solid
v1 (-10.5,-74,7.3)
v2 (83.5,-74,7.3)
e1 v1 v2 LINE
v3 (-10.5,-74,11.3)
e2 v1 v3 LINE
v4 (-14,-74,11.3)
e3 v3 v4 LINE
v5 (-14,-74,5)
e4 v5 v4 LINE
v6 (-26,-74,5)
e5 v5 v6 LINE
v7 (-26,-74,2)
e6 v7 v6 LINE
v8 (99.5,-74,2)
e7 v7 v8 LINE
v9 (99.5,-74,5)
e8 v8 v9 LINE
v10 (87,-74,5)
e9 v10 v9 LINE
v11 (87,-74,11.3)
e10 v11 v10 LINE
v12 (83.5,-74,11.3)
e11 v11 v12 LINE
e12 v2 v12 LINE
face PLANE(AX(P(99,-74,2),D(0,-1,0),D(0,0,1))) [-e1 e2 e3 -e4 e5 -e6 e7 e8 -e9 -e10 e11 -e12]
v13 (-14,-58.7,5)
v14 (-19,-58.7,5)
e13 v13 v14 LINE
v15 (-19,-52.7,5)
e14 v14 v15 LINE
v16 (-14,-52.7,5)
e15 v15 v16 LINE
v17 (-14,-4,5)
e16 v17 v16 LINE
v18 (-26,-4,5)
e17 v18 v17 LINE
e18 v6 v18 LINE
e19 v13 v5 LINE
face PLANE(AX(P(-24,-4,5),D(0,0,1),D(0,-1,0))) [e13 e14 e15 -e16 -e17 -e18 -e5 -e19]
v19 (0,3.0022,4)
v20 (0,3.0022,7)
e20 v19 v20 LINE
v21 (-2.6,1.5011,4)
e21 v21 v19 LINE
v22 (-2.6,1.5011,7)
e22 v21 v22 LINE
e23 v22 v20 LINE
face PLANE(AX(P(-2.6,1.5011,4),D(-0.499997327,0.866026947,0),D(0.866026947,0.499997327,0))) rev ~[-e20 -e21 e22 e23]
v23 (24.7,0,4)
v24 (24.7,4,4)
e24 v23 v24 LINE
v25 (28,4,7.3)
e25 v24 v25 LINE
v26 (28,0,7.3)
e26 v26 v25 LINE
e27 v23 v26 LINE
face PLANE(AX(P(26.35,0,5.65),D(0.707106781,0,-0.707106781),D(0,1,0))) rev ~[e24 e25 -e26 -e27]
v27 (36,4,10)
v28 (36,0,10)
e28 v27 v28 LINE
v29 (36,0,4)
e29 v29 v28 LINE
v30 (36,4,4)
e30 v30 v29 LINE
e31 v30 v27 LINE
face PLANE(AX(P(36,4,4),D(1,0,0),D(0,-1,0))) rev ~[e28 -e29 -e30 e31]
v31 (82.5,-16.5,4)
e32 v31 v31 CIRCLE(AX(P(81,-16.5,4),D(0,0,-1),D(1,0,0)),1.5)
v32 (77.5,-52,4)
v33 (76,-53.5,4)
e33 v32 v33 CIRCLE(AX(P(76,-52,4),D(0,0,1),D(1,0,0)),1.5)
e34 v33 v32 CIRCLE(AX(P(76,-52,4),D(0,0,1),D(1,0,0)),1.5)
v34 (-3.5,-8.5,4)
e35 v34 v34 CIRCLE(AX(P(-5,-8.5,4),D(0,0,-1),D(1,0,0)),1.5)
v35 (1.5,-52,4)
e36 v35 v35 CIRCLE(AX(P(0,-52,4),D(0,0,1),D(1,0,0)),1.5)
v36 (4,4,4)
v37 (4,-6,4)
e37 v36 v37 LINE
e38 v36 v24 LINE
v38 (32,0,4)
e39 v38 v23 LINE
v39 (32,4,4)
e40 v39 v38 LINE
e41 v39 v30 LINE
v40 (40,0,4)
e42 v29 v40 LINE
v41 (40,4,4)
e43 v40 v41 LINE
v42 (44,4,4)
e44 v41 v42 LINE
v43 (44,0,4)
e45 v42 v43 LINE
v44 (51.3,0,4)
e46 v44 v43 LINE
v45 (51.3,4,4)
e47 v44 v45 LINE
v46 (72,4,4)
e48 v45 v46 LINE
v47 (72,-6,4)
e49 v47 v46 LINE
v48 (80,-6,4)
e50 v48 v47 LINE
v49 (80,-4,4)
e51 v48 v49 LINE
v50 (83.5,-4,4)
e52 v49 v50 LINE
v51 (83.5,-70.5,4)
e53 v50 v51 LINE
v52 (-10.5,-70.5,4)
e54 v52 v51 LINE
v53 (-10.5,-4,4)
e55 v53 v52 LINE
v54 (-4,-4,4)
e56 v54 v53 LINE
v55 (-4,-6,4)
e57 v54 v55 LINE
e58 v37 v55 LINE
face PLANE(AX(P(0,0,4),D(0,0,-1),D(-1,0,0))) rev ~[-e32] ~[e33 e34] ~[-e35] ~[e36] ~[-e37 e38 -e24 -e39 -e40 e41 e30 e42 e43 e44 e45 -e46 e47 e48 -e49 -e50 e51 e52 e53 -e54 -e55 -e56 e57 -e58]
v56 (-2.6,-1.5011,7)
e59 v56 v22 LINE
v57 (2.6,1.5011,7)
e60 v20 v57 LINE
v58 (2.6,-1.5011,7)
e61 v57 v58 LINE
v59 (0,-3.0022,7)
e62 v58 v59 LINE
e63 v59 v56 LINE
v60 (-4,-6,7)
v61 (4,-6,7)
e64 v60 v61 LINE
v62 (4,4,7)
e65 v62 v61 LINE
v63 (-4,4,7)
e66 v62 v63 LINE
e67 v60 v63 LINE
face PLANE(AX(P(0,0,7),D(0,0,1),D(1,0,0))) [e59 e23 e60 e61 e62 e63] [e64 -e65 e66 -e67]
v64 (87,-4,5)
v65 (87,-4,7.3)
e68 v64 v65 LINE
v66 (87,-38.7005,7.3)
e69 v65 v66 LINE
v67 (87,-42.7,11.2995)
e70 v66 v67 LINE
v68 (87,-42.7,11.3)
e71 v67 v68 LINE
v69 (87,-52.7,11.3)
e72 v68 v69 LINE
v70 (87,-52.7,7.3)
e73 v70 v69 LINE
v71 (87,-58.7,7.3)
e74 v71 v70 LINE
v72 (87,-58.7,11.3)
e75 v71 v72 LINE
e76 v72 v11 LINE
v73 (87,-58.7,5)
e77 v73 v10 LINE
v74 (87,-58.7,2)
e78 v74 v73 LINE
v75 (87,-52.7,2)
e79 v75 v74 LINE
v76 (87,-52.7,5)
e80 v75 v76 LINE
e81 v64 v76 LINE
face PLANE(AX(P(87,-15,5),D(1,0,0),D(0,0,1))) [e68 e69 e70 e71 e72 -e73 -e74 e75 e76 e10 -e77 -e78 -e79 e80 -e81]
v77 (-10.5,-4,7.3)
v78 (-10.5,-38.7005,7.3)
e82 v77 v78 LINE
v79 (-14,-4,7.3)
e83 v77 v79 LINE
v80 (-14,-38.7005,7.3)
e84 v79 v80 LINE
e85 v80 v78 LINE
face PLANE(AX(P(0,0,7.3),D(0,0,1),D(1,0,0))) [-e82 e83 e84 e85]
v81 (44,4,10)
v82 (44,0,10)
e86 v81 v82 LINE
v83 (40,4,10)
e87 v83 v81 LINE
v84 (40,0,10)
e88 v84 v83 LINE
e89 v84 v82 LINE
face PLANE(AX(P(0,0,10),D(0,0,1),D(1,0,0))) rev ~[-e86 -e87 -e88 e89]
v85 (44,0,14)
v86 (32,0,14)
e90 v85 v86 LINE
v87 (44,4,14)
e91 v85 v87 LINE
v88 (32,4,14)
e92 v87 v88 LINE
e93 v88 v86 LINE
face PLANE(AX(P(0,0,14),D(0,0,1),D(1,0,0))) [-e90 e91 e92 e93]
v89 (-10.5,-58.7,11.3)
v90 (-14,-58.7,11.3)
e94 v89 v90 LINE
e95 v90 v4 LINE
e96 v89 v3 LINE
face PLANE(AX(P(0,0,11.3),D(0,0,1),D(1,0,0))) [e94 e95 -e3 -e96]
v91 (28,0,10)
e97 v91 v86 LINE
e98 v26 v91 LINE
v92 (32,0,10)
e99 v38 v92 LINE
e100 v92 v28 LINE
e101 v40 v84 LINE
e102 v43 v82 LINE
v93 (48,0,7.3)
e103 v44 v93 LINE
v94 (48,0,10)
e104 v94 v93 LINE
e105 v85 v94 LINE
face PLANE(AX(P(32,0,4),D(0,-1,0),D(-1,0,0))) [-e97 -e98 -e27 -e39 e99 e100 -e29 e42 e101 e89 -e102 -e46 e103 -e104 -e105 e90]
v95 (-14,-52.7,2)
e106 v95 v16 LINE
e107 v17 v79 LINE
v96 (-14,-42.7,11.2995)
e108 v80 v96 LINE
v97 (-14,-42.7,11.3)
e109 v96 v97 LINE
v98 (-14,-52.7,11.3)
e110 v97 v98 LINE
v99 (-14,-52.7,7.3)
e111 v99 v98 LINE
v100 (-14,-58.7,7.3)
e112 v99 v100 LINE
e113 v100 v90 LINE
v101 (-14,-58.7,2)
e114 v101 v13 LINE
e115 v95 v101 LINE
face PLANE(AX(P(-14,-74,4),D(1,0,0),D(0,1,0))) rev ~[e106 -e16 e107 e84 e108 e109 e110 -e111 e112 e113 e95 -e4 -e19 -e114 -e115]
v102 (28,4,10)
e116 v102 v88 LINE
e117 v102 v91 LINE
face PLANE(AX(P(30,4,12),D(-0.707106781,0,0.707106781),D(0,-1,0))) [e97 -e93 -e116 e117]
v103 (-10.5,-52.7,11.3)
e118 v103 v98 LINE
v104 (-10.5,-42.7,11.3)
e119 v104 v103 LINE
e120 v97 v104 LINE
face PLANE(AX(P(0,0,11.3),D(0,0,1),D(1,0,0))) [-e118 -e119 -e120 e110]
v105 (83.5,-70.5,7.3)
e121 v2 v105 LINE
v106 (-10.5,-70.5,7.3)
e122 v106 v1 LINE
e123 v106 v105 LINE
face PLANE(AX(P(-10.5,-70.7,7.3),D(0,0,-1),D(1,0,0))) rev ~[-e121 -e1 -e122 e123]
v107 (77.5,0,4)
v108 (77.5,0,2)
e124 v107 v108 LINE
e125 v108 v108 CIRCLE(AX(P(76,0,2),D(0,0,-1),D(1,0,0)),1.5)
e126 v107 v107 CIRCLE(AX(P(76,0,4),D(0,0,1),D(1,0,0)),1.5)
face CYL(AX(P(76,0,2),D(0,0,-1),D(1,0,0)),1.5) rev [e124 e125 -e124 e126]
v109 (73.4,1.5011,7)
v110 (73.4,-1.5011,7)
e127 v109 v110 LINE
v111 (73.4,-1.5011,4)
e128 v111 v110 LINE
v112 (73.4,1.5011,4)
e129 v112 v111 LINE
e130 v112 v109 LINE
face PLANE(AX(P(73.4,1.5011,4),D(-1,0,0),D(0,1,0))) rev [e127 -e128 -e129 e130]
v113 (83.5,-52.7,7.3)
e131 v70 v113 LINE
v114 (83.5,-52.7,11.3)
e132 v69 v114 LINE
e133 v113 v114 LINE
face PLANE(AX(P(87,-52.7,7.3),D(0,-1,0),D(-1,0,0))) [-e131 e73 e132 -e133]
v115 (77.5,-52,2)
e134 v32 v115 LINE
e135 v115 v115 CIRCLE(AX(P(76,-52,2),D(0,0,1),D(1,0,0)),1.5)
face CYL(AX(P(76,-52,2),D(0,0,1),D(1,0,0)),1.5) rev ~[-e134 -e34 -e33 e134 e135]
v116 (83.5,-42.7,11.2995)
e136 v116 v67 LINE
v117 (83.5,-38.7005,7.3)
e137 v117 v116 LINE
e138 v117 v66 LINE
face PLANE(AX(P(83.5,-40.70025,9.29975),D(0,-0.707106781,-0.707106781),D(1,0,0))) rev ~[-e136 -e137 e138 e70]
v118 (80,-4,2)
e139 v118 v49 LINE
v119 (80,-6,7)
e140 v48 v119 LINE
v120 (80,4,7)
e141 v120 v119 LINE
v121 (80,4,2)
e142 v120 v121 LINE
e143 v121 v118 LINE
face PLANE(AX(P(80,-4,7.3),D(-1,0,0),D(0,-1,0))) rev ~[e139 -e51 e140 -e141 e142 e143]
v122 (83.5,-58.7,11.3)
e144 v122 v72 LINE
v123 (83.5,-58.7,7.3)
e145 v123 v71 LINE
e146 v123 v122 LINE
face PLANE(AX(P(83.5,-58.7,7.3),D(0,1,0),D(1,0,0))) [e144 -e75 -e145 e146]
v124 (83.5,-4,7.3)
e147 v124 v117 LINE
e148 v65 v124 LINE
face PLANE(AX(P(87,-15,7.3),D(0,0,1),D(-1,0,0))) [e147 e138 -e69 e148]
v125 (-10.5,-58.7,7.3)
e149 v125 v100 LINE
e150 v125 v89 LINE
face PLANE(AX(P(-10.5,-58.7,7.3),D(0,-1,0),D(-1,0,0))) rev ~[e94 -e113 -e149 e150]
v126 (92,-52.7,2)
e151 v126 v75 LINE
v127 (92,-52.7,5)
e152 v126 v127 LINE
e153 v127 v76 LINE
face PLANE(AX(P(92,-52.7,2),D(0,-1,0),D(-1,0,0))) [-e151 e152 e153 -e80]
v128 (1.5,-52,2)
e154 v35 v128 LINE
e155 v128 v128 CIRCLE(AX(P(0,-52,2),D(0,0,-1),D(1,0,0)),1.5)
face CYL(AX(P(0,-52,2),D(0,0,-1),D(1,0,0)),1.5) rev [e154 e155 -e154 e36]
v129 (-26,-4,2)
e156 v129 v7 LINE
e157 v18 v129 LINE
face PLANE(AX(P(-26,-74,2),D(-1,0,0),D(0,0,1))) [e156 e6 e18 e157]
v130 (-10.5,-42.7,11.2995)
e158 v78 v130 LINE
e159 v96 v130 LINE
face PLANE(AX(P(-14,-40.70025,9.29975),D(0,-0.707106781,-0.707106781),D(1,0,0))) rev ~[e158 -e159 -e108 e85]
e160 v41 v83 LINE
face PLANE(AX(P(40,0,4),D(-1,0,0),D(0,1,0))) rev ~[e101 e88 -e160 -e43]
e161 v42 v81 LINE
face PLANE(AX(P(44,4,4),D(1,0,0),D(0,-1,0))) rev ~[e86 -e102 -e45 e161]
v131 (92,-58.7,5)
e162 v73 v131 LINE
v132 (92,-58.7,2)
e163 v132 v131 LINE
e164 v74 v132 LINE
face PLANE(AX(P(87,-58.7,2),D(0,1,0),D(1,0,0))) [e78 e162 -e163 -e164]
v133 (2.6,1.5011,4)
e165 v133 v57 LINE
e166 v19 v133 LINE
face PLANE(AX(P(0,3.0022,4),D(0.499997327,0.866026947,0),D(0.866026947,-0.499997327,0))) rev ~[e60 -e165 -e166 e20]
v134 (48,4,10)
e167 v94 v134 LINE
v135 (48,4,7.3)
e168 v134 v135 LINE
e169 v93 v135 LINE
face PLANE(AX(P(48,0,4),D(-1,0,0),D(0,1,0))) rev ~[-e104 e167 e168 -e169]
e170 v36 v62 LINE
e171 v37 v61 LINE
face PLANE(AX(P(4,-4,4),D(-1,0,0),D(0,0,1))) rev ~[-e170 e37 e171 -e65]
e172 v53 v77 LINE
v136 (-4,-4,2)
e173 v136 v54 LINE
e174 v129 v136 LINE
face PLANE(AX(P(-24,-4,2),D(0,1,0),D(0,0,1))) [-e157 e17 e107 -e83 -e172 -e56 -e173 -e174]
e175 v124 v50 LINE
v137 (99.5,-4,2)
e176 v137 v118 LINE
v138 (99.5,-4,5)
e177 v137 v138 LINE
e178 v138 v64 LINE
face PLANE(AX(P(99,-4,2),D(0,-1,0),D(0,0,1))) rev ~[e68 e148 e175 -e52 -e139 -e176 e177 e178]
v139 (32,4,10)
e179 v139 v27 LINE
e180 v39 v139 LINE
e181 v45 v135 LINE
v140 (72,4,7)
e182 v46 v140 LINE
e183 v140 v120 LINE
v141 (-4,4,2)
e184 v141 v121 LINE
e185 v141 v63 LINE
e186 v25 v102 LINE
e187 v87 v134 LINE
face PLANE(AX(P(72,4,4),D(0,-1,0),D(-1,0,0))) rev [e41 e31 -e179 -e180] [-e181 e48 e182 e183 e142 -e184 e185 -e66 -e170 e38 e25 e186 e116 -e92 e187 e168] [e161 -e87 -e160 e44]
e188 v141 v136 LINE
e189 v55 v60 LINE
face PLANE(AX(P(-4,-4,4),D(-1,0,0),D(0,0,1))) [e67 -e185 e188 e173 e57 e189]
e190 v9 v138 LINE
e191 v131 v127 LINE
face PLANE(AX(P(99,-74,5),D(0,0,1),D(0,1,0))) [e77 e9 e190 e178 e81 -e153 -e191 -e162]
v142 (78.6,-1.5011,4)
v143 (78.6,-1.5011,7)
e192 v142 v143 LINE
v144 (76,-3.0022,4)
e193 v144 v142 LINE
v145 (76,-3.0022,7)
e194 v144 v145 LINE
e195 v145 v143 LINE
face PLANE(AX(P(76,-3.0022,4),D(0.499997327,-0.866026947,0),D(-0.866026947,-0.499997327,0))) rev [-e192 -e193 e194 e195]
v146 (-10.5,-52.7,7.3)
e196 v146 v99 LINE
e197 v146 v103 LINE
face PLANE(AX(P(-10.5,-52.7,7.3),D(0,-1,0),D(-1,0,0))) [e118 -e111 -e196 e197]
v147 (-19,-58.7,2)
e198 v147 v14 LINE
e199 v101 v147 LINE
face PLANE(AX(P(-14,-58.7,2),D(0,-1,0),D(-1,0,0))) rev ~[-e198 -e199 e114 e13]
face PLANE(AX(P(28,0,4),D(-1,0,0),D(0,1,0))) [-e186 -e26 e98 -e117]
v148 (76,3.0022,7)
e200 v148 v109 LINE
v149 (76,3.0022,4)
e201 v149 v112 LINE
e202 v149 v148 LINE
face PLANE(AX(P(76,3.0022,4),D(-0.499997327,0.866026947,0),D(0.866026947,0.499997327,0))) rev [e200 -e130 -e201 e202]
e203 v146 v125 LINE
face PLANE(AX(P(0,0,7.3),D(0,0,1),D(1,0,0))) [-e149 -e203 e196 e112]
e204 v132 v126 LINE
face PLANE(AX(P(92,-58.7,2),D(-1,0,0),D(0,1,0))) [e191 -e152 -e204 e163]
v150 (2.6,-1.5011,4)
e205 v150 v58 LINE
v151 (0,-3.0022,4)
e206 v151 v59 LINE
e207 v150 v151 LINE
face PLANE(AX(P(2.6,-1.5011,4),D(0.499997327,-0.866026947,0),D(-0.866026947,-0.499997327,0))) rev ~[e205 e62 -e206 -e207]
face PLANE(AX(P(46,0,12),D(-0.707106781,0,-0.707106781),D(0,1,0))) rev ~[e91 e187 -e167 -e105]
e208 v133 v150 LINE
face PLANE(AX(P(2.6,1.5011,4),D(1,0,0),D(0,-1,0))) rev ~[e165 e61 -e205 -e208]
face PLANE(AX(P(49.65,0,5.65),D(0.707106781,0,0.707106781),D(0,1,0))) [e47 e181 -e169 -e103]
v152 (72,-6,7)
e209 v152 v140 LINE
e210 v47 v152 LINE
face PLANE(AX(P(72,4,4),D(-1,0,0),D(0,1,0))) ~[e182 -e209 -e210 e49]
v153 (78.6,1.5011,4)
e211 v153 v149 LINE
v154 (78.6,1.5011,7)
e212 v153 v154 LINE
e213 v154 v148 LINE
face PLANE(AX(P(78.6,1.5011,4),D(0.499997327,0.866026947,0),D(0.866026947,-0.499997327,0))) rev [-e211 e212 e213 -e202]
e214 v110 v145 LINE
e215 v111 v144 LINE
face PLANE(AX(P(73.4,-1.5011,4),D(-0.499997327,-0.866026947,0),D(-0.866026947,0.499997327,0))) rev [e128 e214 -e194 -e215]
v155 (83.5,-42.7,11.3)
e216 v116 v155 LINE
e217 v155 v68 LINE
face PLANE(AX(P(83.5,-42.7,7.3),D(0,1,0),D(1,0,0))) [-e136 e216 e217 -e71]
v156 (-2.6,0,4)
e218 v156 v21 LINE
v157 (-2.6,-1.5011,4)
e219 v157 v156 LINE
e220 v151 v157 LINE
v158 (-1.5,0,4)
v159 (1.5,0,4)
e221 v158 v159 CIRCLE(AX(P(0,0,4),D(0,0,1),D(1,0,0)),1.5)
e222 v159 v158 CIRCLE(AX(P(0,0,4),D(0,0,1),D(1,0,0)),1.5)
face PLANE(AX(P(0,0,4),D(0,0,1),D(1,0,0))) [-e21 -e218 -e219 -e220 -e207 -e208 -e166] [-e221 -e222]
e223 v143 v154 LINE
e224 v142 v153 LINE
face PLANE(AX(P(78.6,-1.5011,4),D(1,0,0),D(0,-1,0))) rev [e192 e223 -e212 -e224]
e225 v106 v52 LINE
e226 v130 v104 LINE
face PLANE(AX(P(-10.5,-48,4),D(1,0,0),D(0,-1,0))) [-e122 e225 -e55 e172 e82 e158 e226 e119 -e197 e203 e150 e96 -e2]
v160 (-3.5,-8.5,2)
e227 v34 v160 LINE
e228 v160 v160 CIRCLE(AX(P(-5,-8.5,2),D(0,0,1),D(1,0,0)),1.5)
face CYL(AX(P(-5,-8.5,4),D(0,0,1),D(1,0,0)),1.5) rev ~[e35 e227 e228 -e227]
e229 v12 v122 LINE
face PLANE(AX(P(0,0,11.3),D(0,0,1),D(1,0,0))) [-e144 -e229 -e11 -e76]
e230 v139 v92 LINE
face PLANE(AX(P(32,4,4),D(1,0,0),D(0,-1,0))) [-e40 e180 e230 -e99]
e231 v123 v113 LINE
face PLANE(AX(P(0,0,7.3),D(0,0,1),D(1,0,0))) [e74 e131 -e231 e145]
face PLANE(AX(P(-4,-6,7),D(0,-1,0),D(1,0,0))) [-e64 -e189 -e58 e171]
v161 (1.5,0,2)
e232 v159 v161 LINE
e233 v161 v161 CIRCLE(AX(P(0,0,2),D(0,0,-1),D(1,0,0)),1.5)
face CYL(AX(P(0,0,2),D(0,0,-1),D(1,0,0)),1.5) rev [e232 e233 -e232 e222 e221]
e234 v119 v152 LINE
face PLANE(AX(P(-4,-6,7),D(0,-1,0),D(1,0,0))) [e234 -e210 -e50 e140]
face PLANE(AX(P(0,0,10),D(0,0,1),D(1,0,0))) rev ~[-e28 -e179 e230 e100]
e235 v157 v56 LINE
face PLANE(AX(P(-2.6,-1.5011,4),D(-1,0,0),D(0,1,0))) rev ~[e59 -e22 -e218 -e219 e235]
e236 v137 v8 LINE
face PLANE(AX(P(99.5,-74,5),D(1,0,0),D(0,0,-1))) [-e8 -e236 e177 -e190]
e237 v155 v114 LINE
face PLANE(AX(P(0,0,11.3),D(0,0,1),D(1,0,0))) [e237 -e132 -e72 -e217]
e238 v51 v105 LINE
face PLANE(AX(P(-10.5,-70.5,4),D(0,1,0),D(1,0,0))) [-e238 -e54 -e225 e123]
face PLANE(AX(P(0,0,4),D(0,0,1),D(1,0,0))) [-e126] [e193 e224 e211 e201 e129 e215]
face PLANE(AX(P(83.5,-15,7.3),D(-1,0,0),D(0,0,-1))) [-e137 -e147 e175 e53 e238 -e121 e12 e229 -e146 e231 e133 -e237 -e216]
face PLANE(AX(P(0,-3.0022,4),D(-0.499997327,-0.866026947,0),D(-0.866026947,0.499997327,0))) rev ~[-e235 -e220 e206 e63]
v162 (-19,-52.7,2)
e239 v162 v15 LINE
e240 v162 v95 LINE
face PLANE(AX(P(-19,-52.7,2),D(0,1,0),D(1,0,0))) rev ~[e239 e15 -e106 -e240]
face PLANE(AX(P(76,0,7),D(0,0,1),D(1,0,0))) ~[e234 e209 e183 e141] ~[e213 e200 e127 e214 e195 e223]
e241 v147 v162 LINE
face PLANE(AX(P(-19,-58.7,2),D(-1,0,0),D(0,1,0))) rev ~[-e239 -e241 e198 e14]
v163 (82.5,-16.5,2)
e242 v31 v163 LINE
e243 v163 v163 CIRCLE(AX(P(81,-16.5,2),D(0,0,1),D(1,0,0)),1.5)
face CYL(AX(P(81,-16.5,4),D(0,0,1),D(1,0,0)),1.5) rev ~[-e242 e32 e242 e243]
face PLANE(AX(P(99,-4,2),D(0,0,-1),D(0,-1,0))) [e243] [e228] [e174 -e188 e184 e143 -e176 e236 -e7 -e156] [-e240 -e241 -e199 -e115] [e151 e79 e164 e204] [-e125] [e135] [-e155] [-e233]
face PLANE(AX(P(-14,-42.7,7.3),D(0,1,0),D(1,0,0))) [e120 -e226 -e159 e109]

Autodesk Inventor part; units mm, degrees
ref_plane "YZ Plane" through (0, 0, 0) normal (1, 0, 0) x (0, 1, 0)
ref_plane "XZ Plane" through (0, 0, 0) normal (0, 1, 0) x (-1, 0, 0)
ref_plane "Work Plane1" through (0, 0, 2) normal (0, 0, 1) x (1, 0, 0)
sketch "Sketch1" plane through (0, 0, 2) normal (0, 0, 1) x (1, 0, 0)
  arc A0 (0, 3.5) -> (-3.5, 0) centre (0, 0) ccw construction
  line L0 (-3.5, -52) -> (-3.5, 0) construction
  arc A1 (-3.5, -52) -> (0, -55.5) centre (0, -52) ccw construction
  line L1 (76, -55.5) -> (0, -55.5) construction
  arc A2 (76, -55.5) -> (79.5, -52) centre (76, -52) ccw construction
  line L2 (79.5, 0) -> (79.5, -52) construction
  arc A3 (79.5, 0) -> (76, 3.5) centre (76, 0) ccw construction
  line L3 (0, 3.5) -> (76, 3.5) construction
  circle A4 centre (0, -52) radius 1.4224 construction
  circle A5 centre (0, 0) radius 1.4224 construction
  circle A6 centre (76, 0) radius 1.4224 construction
  circle A7 centre (76, -52) radius 1.4224 construction
  circle A8 centre (25.43, -38.5) radius 1.4224 construction
  circle A9 centre (76.11, -18.5) radius 1.4224 construction
  circle A10 centre (76, 0) radius 1.5
  circle A11 centre (76, -52) radius 1.5
  circle A12 centre (76, -52) radius 3.5
  circle A13 centre (76, 0) radius 3.5
  circle A14 centre (0, -52) radius 1.5
  circle A15 centre (0, -52) radius 3.5
  circle A16 centre (0, 0) radius 1.5
  circle A17 centre (0, 0) radius 3.5
  dimension "d0" = 3
  dimension "d1" = 3
  dimension "d2" = 7
  dimension "d3" = 7
  dimension "d4" = 3
  dimension "d5" = 7
  dimension "d6" = 3
  dimension "d7" = 7
extrude "Extrusion1" add sketch "Sketch1" against normal blind 4.5
sketch "Sketch2" plane through (0, 0, 2) normal (0, 0, 1) x (1, 0, 0)
  circle A0 centre (76, -52) radius 1.5 projected
  circle A1 centre (76, -52) radius 3.5 projected
  circle A2 centre (0, -52) radius 3.5 projected
  circle A3 centre (0, 0) radius 1.5 projected
  circle A4 centre (0, 0) radius 3.5 projected
  circle A5 centre (76, 0) radius 1.5 projected
  circle A6 centre (76, 0) radius 3.5 projected
  circle A7 centre (76, -52) radius 1.5 projected
  line L0 (76, -52) -> (76, -56)
  circle A8 centre (76, -52) radius 3.5 projected
  circle A9 centre (0, 0) radius 3.5 projected
  line L1 (0, 0) -> (-4, 0)
  circle A10 centre (0, -52) radius 1.5 projected
  circle A11 centre (0, -52) radius 3.5 projected
  line L2 (76, -56) -> (80, -56)
  line L3 (-4, 0) -> (-4, 4)
  line L4 (-4, 4) -> (80, 4)
  line L5 (80, 4) -> (80, -56)
  line L6 (80, -56) -> (-4, -56)
  line L7 (-4, -56) -> (-4, 4)
  point P0 (0, 0)
  dimension "d10" = 4
  dimension "d12" = 4
  dimension "d21" = 4
  dimension "d22" = 4
extrude "Extrusion2" add sketch "Sketch2" along normal blind 2 contours A1 | A4 | L6 L7 L3 L4 L5 L2 | A2 | A6
sketch "Sketch3" plane through (0, 0, 4) normal (0, 0, 1) x (1, 0, 0)
  circle A0 centre (76, 0) radius 1.5 construction
  circle A1 centre (0, 0) radius 1.5 construction
  circle A2 centre (0, -52) radius 1.5 construction
  circle A3 centre (76, -52) radius 1.5 construction
  circle A4 centre (0, 0) radius 1.5 construction
  line L0 (0, 0) -> (2.6, 0) construction
  line L1 (2.6, -1.5011) -> (0, -3.0022)
  line L2 (0, -3.0022) -> (-2.6, -1.5011)
  line L3 (-2.6, -1.5011) -> (-2.6, 1.5011)
  line L4 (-2.6, 1.5011) -> (0, 3.0022)
  line L5 (0, 3.0022) -> (2.6, 1.5011)
  line L6 (2.6, 1.5011) -> (2.6, -1.5011)
  line L7 (3.3236, -3.218) -> (-3.3236, 3.218) construction
  line L8 (-3.3236, -3.218) -> (3.3236, 3.218) construction
  line L9 (80, 4) -> (-4, 4) projected
  line L10 (-4, 4) -> (-4, -56) projected
  line L11 (4, -4) -> (-4, -4)
  line L12 (-4, -4) -> (-4, 4)
  line L13 (-4, 4) -> (4, 4)
  line L14 (4, 4) -> (4, -4)
  circle A5 centre (0, 0) radius 1.5 projected
  line L15 (4, -4) -> (-4, 4) construction
  line L16 (-4, -4) -> (4, 4) construction
  point P0 (0, 0)
  dimension "d18" = 2.6
extrude "Extrusion3" add sketch "Sketch3" along normal blind 3 contours L14 L11 L10 L9
ref_plane "Work Plane2" through (38, -56, 2) normal (1, 0, 0) x (0, 0, -1)
mirror "Mirror1" about plane through (38, -56, 2) normal (1, 0, 0) of "Extrusion3"
sketch "Sketch4" plane through (0, 0, 4) normal (0, 0, 1) x (1, 0, 0)
  circle A0 centre (76, -52) radius 1.5 projected
  circle A1 centre (0, -52) radius 1.5 projected
  line L0 (80, -4) -> (72, -4) projected
  line L1 (72, -4) -> (72, 4) projected
  line L2 (72, 4) -> (4, 4) projected
  line L3 (4, 4) -> (4, -4) projected
  line L4 (4, -4) -> (-4, -4) projected
  line L5 (-4, -4) -> (-4, -56) projected
  line L6 (-4, -56) -> (80, -56) projected
  line L7 (80, -56) -> (80, -4) projected
  line L8 (-4, 4) -> (-4, -56) projected
  line L9 (-4, -56) -> (-4, 4)
  line L10 (-4, -26) -> (38, -26)
  line L11 (-11, -48) -> (87, -48)
  line L12 (87, -48) -> (87, -4)
  line L13 (87, -4) -> (-11, -4)
  line L14 (-11, -4) -> (-11, -48)
  line L15 (-11, -48) -> (87, -4) construction
  line L16 (87, -48) -> (-11, -4) construction
  point P0 (0, 0)
  dimension "d23" = 98
  dimension "d24" = 44
extrude "Extrusion4" add sketch "Sketch4" against normal blind 2 contours L7 L11 L5 L4 L13 L0 | L13 L12 L11 L7 | L11 L14 L13 L5
sketch "Sketch5" plane through (0, 0, 4) normal (0, 0, 1) x (1, 0, 0)
  circle A0 centre (76, 0) radius 1.5 projected
  line L0 (76, 0) -> (76, -20)
  line L1 (76, -20) -> (81, -20)
  circle A1 centre (81, -20) radius 1.5
  circle A2 centre (0, 0) radius 1.5 projected
  line L2 (0, 0) -> (0, -12)
  line L3 (0, -12) -> (-5, -12)
  circle A3 centre (-5, -12) radius 1.5
  point P0 (0, 0)
  dimension "d27" = 20
  dimension "d28" = 5
  dimension "d29" = 3
  dimension "d30" = 12
  dimension "d31" = 5
  dimension "d32" = 3
extrude "Extrusion5" cut sketch "Sketch5" against normal blind 2 contours A1 | A3
sketch "Sketch7" plane through (-11, -48, 4) normal (-1, 0, 0) x (0, 0, 1)
  line L0 (0, 44) -> (0, 0) projected
  line L1 (0, 44) -> (-2, 44) projected
  line L2 (-2, 0) -> (-2, 44) projected
  line L3 (0, 0) -> (-2, 0) projected
  point P0 (-4, 48)
extrude "Extrusion6" add sketch "Sketch7" along normal blind 3
sketch "Sketch6" plane through (0, 0, 4) normal (0, 0, 1) x (1, 0, 0)
  circle A0 centre (81, -20) radius 1.5 projected
  circle A1 centre (-5, -12) radius 1.5 projected
  circle A2 centre (0, -52) radius 1.5 projected
  circle A3 centre (76, -52) radius 1.5 projected
  line L0 (72, -4) -> (72, 4) projected
  line L1 (72, 4) -> (4, 4) projected
  line L2 (4, 4) -> (4, -4) projected
  line L3 (4, -4) -> (-4, -4) projected
  line L4 (-4, -4) -> (-14, -4) projected
  line L5 (-14, -48) -> (-4, -48) projected
  line L6 (-4, -48) -> (-4, -56) projected
  line L7 (-4, -56) -> (80, -56) projected
  line L8 (80, -56) -> (80, -48) projected
  line L9 (80, -48) -> (87, -48) projected
  line L10 (87, -48) -> (87, -4) projected
  line L11 (87, -4) -> (80, -4) projected
  line L12 (80, -4) -> (72, -4) projected
  line L13 (81, -20) -> (83.5, -20)
  line L14 (83.5, -20) -> (83.5, -4)
  line L15 (80, -4) -> (87, -4) projected
  line L16 (87, -4) -> (83.5, -4)
  line L17 (87, -48) -> (87, -4) projected
  line L18 (87, -4) -> (87, -48)
  line L19 (83.5, -20) -> (83.5, -48)
  line L20 (80, -48) -> (87, -48) projected
  line L21 (87, -48) -> (83.5, -48)
  circle A4 centre (-5, -12) radius 1.5 projected
  line L22 (-5, -12) -> (-10.5, -12)
  line L23 (-14, -48) -> (-14, -4) projected
  line L24 (-10.5, -12) -> (-10.5, -4)
  line L25 (-4, -4) -> (-14, -4) projected
  line L26 (-14, -4) -> (-10.5, -4)
  line L27 (-4, -48) -> (-14, -48) projected
  line L28 (-14, -4) -> (-14, -48)
  line L29 (-14, -48) -> (-10.5, -48)
  line L30 (-10.5, -48) -> (-10.5, -12)
  point P0 (0, 0)
  dimension "d35" = 2.5
  dimension "d36" = 5.5
extrude "Extrusion7" add sketch "Sketch6" along normal blind 3.3 contours L14 L11 L10 L9 L19 | L5 L23 L4 L24 L30
sketch "Sketch8" plane through (0, 0, 4) normal (0, 0, 1) x (1, 0, 0)
  line L0 (83.5, -48) -> (83.5, -4) projected
  line L1 (83.5, -4) -> (80, -4) projected
  line L2 (80, -4) -> (72, -4) projected
  line L3 (72, -4) -> (72, 4) projected
  line L4 (72, 4) -> (4, 4) projected
  line L5 (4, 4) -> (4, -4) projected
  line L6 (4, -4) -> (-4, -4) projected
  line L7 (-4, -4) -> (-10.5, -4) projected
  line L8 (-10.5, -4) -> (-10.5, -48) projected
  line L9 (-10.5, -48) -> (-4, -48) projected
  line L10 (-4, -48) -> (-4, -56) projected
  line L11 (-4, -56) -> (80, -56) projected
  line L12 (80, -56) -> (80, -48) projected
  line L13 (80, -48) -> (83.5, -48) projected
  circle A0 centre (81, -20) radius 1.5 projected
  circle A1 centre (-5, -12) radius 1.5 projected
  circle A2 centre (0, -52) radius 1.5 projected
  circle A3 centre (76, -52) radius 1.5 projected
  circle A4 centre (81, -20) radius 1.5 projected
  line L14 (81, -20) -> (81, -74)
  line L15 (-14, -4) -> (-14, -48) projected
  line L16 (-14, -48) -> (-10.5, -48) projected
  line L17 (-10.5, -48) -> (-10.5, -4) projected
  line L18 (-10.5, -4) -> (-14, -4) projected
  line L19 (87, -48) -> (87, -4) projected
  line L20 (87, -4) -> (83.5, -4) projected
  line L21 (83.5, -4) -> (83.5, -48) projected
  line L22 (83.5, -48) -> (87, -48) projected
  line L23 (81, -74) -> (87, -74)
  line L24 (80, -48) -> (87, -48)
  line L25 (87, -48) -> (87, -74)
  line L26 (87, -74) -> (80, -74)
  line L27 (80, -74) -> (80, -48)
  line L28 (-10.5, -48) -> (-4, -48)
  line L29 (-4, -48) -> (-4, -74)
  line L30 (-4, -74) -> (-10.5, -74)
  line L31 (-10.5, -74) -> (-10.5, -48)
  line L32 (-4, -74) -> (80, -74)
  line L33 (80, -74) -> (80, -56)
  line L34 (80, -56) -> (-4, -56)
  line L35 (-4, -56) -> (-4, -74)
  line L36 (-4, -48) -> (-14, -48) projected
  line L37 (-14, -48) -> (-10.5, -48)
  line L38 (-10.5, -48) -> (-10.5, -74)
  line L39 (-10.5, -74) -> (-14, -74)
  line L40 (-14, -74) -> (-14, -48)
  point P0 (0, 0)
  dimension "d41" = 54
extrude "Extrusion8" add sketch "Sketch8" against normal blind 2 contours L22 L25 L23 L14 L13 | L14 L26 L27 L12 L13 | L27 L32 L29 L11 | L29 L30 L31 L9 L10 | L39 L40 L16 L31 | L16 L15 L18 L8
sketch "Sketch9" plane through (0, 0, 4) normal (0, 0, 1) x (1, 0, 0)
  line L0 (83.5, -48) -> (83.5, -4) projected
  line L1 (83.5, -4) -> (80, -4) construction
  line L2 (80, -4) -> (72, -4) construction
  line L3 (72, -4) -> (72, 4) construction
  line L4 (72, 4) -> (4, 4) construction
  line L5 (4, 4) -> (4, -4) construction
  line L6 (4, -4) -> (-4, -4) construction
  line L7 (-4, -4) -> (-10.5, -4) projected
  line L8 (-10.5, -4) -> (-10.5, -48) projected
  line L9 (-14, -48) -> (-10.5, -48) projected
  line L10 (-14, -48) -> (-14, -74) projected
  line L11 (-14, -74) -> (87, -74) projected
  line L12 (87, -74) -> (87, -48) projected
  line L13 (83.5, -48) -> (87, -48) projected
  circle A0 centre (81, -20) radius 1.5 construction
  circle A1 centre (-5, -12) radius 1.5 projected
  circle A2 centre (0, -52) radius 1.5 projected
  circle A3 centre (76, -52) radius 1.5 projected
  line L14 (-14, -74) -> (87, -74) projected
  line L15 (-14, -48) -> (-10.5, -48)
  line L16 (-10.5, -48) -> (-10.5, -74)
  line L17 (-10.5, -74) -> (-14, -74)
  line L18 (-14, -74) -> (-14, -48)
  line L19 (87, -48) -> (87, -4) projected
  line L20 (87, -48) -> (83.5, -48)
  line L21 (83.5, -48) -> (83.5, -74)
  line L22 (83.5, -74) -> (87, -74)
  line L23 (87, -74) -> (87, -48)
  line L24 (83.5, -74) -> (-10.5, -74)
  line L25 (-10.5, -74) -> (-10.5, -70.7)
  line L26 (-10.5, -70.7) -> (83.5, -70.7)
  line L27 (83.5, -70.7) -> (83.5, -74)
  point P0 (0, 0)
  dimension "d44" = 3.3
extrude "Extrusion9" add sketch "Sketch9" along normal up to surface (3.3 mm away) contours L9 L16 L11 L10 | L26 L21 L11 L16 | L21 L13 L12 L11
sketch "Sketch10" plane through (-14, -48, 4) normal (-1, 0, 0) x (0, 0, 1)
  line L0 (-6.5, 51.5) -> (-6.5, 44.5) projected
  line L1 (-2, 51.5) -> (-2, 44.5) projected
  line L2 (-6.5, -0.5) -> (-6.5, -7.5) projected
  line L3 (-2, -0.5) -> (-2, -7.5) projected
  line L4 (-6.5, 51.5) -> (-6.5, 44.5) projected
  line L5 (-6.5, 51.5) -> (-2, 51.5)
  line L6 (-2, 51.5) -> (-2, 44.5)
  line L7 (-2, 44.5) -> (-6.5, 44.5)
  line L8 (-6.5, 44.5) -> (-6.5, 51.5)
  line L9 (-2, -0.5) -> (-6.5, -0.5)
  line L10 (-6.5, -0.5) -> (-6.5, -7.5)
  line L11 (-6.5, -7.5) -> (-2, -7.5)
  line L12 (-2, -7.5) -> (-2, -0.5)
  point P0 (-4, 48)
extrude "Extrusion10" cut sketch "Sketch10" against normal through all
sketch "Sketch11" plane through (0, 0, 7.3) normal (0, 0, 1) x (1, 0, 0)
  line L0 (-14, -4) -> (-14, -74) projected
  line L1 (87, -74) -> (-14, -74) projected
  line L2 (87, -4) -> (87, -74) projected
  line L3 (87, -4) -> (83.5, -4) projected
  line L4 (83.5, -4) -> (83.5, -70.7) projected
  line L5 (-10.5, -70.7) -> (83.5, -70.7) projected
  line L6 (-10.5, -4) -> (-10.5, -70.7) projected
  line L7 (-10.5, -4) -> (-14, -4) projected
  line L8 (-10.5, -70.7) -> (-10.5, -58.7)
  line L9 (-10.5, -4) -> (-10.5, -70.7) projected
  line L10 (-10.5, -70.7) -> (-10.5, -52.7)
  line L11 (-14, -4) -> (-14, -74) projected
  line L12 (-10.5, -52.7) -> (-14, -52.7)
  line L13 (-14, -52.7) -> (-14, -42.7)
  line L14 (-14, -42.7) -> (-10.5, -42.7)
  line L15 (-10.5, -42.7) -> (-10.5, -52.7)
  line L16 (-10.5, -58.7) -> (-14, -58.7)
  line L17 (-14, -58.7) -> (-14, -74)
  line L18 (-14, -74) -> (-10.5, -74)
  line L19 (-10.5, -74) -> (-10.5, -58.7)
  line L20 (87, -4) -> (87, -74) projected
  line L21 (83.5, -42.7) -> (87, -42.7)
  line L22 (87, -42.7) -> (87, -52.7)
  line L23 (87, -52.7) -> (83.5, -52.7)
  line L24 (83.5, -52.7) -> (83.5, -42.7)
  line L25 (83.5, -70.7) -> (83.5, -4) projected
  line L26 (83.5, -58.7) -> (87, -58.7)
  line L27 (87, -58.7) -> (87, -74)
  line L28 (87, -74) -> (83.5, -74)
  line L29 (83.5, -74) -> (83.5, -58.7)
  point P0 (0, 0)
  dimension "d49" = 12
  dimension "d50" = 18
  dimension "d51" = 10
extrude "Extrusion11" add sketch "Sketch11" along normal blind 4 contours L14 L6 L12 L0 | L16 L6 L19 L1 L0 | L29 L4 L26 L2 L1 | L4 L21 L2 L23
chamfer "Chamfer1" distance 4 angle 45 2 edges at (85.25, -42.7, 7.3) (-12.25, -42.7, 7.3)
sketch "Sketch12" plane through (0, 0, 7.3) normal (0, 0, 1) x (1, 0, 0)
  line L0 (87, -38.7) -> (83.5, -38.7) projected
  line L1 (87, -4) -> (87, -38.7) projected
  line L2 (87, -4) -> (83.5, -4) projected
  line L3 (83.5, -4) -> (83.5, -38.7) projected
  circle A0 centre (76, -52) radius 1.5 projected
  circle A1 centre (0, -52) radius 1.5 projected
  circle A2 centre (-5, -12) radius 1.5 projected
  circle A3 centre (81, -20) radius 1.5 projected
  line L4 (-10.5, -4) -> (-10.5, -70.7) projected
  line L5 (-10.5, -70.7) -> (83.5, -70.7) projected
  line L6 (83.5, -70.7) -> (83.5, -4) projected
  line L7 (83.5, -4) -> (80, -4) projected
  line L8 (80, -4) -> (72, -4) projected
  line L9 (72, -4) -> (72, 4) projected
  line L10 (72, 4) -> (4, 4) projected
  line L11 (4, 4) -> (4, -4) projected
  line L12 (4, -4) -> (-4, -4) projected
  line L13 (-4, -4) -> (-10.5, -4) projected
  line L14 (87, -4) -> (80, -4)
  line L15 (80, -4) -> (80, -15)
  line L16 (80, -15) -> (87, -15)
  line L17 (87, -15) -> (87, -4)
  point P0 (0, 0)
  dimension "d57" = 7
  dimension "d58" = 11
extrude "Extrusion12" cut sketch "Sketch12" against normal through all contours L16 L3 L2 L1 | L16 L15 L7 L3
sketch "Sketch13" plane through (0, 0, 2) normal (0, 0, -1) x (-1, 0, 0)
  circle A0 centre (-81, -20) radius 1.5 projected
  circle A1 centre (5, -12) radius 1.5 projected
  line L0 (-80, -15) -> (-80, 4) projected
  line L1 (-80, -15) -> (-87, -15) projected
  line L2 (-87, -15) -> (-87, -74) projected
  line L3 (-87, -74) -> (14, -74) projected
  line L4 (14, -4) -> (14, -74) projected
  line L5 (4, -4) -> (14, -4) projected
  line L6 (4, 4) -> (4, -4) projected
  line L7 (-80, 4) -> (4, 4) projected
  circle A2 centre (0, -52) radius 1.5 projected
  circle A3 centre (-76, -52) radius 1.5 projected
  circle A4 centre (-76, 0) radius 1.5 projected
  circle A5 centre (0, 0) radius 1.5 projected
  line L8 (14, -74) -> (24, -74)
  line L9 (24, -74) -> (24, -4)
  line L10 (24, -4) -> (14, -4)
  line L11 (14, -4) -> (14, -74)
  line L12 (-87, -74) -> (-97, -74)
  line L13 (-97, -74) -> (-97, -15)
  line L14 (-97, -15) -> (-87, -15)
  line L15 (-87, -15) -> (-87, -74)
  point P0 (0, 0)
  dimension "d61" = 10
  dimension "d62" = 10
extrude "Extrusion13" add sketch "Sketch13" against normal blind 3 contours L2 L12 L13 L14 | L4 L10 L9 L8
sketch "Sketch14" plane through (0, 0, 2) normal (0, 0, -1) x (-1, 0, 0)
  line L0 (14, -58.7) -> (10.5, -58.7) projected
  line L1 (10.5, -52.7) -> (10.5, -58.7) projected
  line L2 (10.5, -52.7) -> (14, -52.7) projected
  line L3 (14, -52.7) -> (14, -58.7) projected
  line L4 (-83.5, -58.7) -> (-87, -58.7) projected
  line L5 (-87, -52.7) -> (-87, -58.7) projected
  line L6 (-87, -52.7) -> (-83.5, -52.7) projected
  line L7 (-83.5, -52.7) -> (-83.5, -58.7) projected
  line L8 (14, -58.7) -> (14, -74) projected
  line L9 (14, -58.7) -> (19, -58.7)
  line L10 (19, -58.7) -> (19, -52.7)
  line L11 (19, -52.7) -> (14, -52.7)
  line L12 (14, -52.7) -> (14, -58.7)
  line L13 (-87, -58.7) -> (-83.5, -58.7) projected
  line L14 (-87, -58.7) -> (-92, -58.7)
  line L15 (-92, -58.7) -> (-92, -52.7)
  line L16 (-92, -52.7) -> (-87, -52.7)
  line L17 (-87, -52.7) -> (-87, -58.7)
  point P0 (0, 0)
  dimension "d65" = 5
  dimension "d66" = 5
extrude "Extrusion14" cut sketch "Sketch14" against normal through all contours L3 L11 L10 L9 | L14 L15 L16 L5
sketch "Sketch15" plane through (-10.5, -74, 7.3) normal (0, -1, 0) x (1, 0, 0)
  line L0 (107.5, -5.3) -> (-13.5, -5.3) projected
  line L1 (107.5, -5.3) -> (107.5, -2.3) projected
  line L2 (97.5, -2.3) -> (107.5, -2.3) projected
  line L3 (97.5, -2.3) -> (97.5, 4) projected
  line L4 (94, 4) -> (97.5, 4) projected
  line L5 (94, 0) -> (94, 4) projected
  line L6 (94, 0) -> (0, 0) projected
  line L7 (0, 0) -> (0, 4) projected
  line L8 (-3.5, 4) -> (0, 4) projected
  line L9 (-3.5, -2.3) -> (-3.5, 4) projected
  line L10 (-13.5, -2.3) -> (-3.5, -2.3) projected
  line L11 (-13.5, -5.3) -> (-13.5, -2.3) projected
  line L12 (107.5, -5.3) -> (109.5, -5.3)
  line L13 (109.5, -5.3) -> (109.5, -2.3)
  line L14 (109.5, -2.3) -> (107.5, -2.3)
  line L15 (107.5, -2.3) -> (107.5, -5.3)
  point P0 (10.5, -7.3)
  dimension "d69" = 2
extrude "Extrusion15" add sketch "Sketch15" against normal up to surface (59 mm away) contours L1 L14 L13 L12
sketch "Sketch16" plane through (-24, -74, 2) normal (-1, 0, 0) x (0, 0, 1)
  line L0 (0, 0) -> (0, 70) projected
  line L1 (0, 0) -> (3, 0) projected
  line L2 (3, 70) -> (3, 0) projected
  line L3 (0, 70) -> (3, 70) projected
  point P0 (-2, 74)
extrude "Extrusion16" add sketch "Sketch16" along normal blind 3
sketch "Sketch17" plane through (0, 0, 4) normal (0, 0, 1) x (1, 0, 0)
  line L0 (80, -15) -> (80, -4) projected
  line L1 (80, -4) -> (72, -4) projected
  line L2 (72, -4) -> (72, 4) projected
  line L3 (72, 4) -> (4, 4) projected
  line L4 (4, 4) -> (4, -4) projected
  line L5 (4, -4) -> (-4, -4) projected
  line L6 (-4, -4) -> (-10.5, -4) projected
  line L7 (-10.5, -4) -> (-10.5, -70.7) projected
  line L8 (-10.5, -70.7) -> (83.5, -70.7) projected
  line L9 (83.5, -70.7) -> (83.5, -15) projected
  line L10 (83.5, -15) -> (80, -15) projected
  circle A0 centre (76, -52) radius 1.5 projected
  circle A1 centre (0, -52) radius 1.5 projected
  circle A2 centre (-5, -12) radius 1.5 projected
  circle A3 centre (81, -20) radius 1.5 projected
  line L11 (80, 4) -> (-4, 4) projected
  line L12 (38, 4) -> (36, 4)
  line L13 (36, 4) -> (36, 0)
  line L14 (36, 0) -> (38, 0)
  line L15 (38, 0) -> (38, 4)
  line L16 (38, 0) -> (40, 0)
  line L17 (40, 0) -> (40, 4)
  line L18 (40, 4) -> (38, 4)
  line L19 (38, 4) -> (38, 0)
  line L20 (40, 0) -> (44, 0)
  line L21 (36, 0) -> (32, 0)
  line L22 (44, 0) -> (48, 0)
  line L23 (48, 0) -> (48, 4)
  line L24 (48, 4) -> (44, 4)
  line L25 (44, 4) -> (44, 0)
  line L26 (32, 0) -> (28, 0)
  line L27 (28, 0) -> (28, 4)
  line L28 (28, 4) -> (32, 4)
  line L29 (32, 4) -> (32, 0)
  point P0 (0, 0)
  dimension "d74" = 2
  dimension "d75" = 4
  dimension "d76" = 2
  dimension "d77" = 4
  dimension "d78" = 4
  dimension "d79" = 4
  dimension "d80" = 4
  dimension "d81" = 4
  dimension "d82" = 4
  dimension "d83" = 4
extrude "Extrusion17" add sketch "Sketch17" along normal blind 6 contours L23 L22 L25 L3 | L17 L16 L15 L3 | L15 L14 L13 L3 | L3 L29 L26 L27
sketch "Sketch18" plane through (0, 0, 10) normal (0, 0, 1) x (1, 0, 0)
  line L0 (32, 0) -> (32, 4) projected
  line L1 (32, 4) -> (28, 4) projected
  line L2 (28, 4) -> (28, 0) projected
  line L3 (28, 0) -> (32, 0) projected
  line L4 (40, 4) -> (36, 4) projected
  line L5 (36, 4) -> (36, 0) projected
  line L6 (36, 0) -> (40, 0) projected
  line L7 (40, 0) -> (40, 4) projected
  line L8 (44, 0) -> (48, 0) projected
  line L9 (48, 0) -> (48, 4) projected
  line L10 (48, 4) -> (44, 4) projected
  line L11 (44, 4) -> (44, 0) projected
  line L12 (48, 4) -> (44, 4) projected
  line L13 (28, 0) -> (48, 0)
  line L14 (48, 0) -> (48, 4)
  line L15 (48, 4) -> (28, 4)
  line L16 (28, 4) -> (28, 0)
  point P0 (0, 0)
extrude "Extrusion18" add sketch "Sketch18" along normal blind 4
chamfer "Chamfer2" distance 3.3 angle 45 2 edges at (48, 2, 4) (28, 2, 4)
chamfer "Chamfer3" distance 4 angle 45 2 edges at (48, 2, 14) (28, 2, 14)
sketch "Sketch19" plane through (-10.5, -70.7, 4) normal (0, 1, 0) x (1, 0, 0)
  line L0 (0, -3.3) -> (94, -3.3) projected
  line L1 (94, 0) -> (94, -3.3) projected
  line L2 (0, 0) -> (94, 0) projected
  line L3 (0, -3.3) -> (0, 0) projected
  point P0 (10.5, 4)
extrude "Extrusion19" add sketch "Sketch19" along normal blind 0.2
sketch "Sketch20" plane through (-4, -4, 7) normal (0, -1, 0) x (1, 0, 0)
  line L0 (2.5, -3) -> (5.5, -3) projected
  line L1 (8, -3) -> (0, -3) projected
  line L2 (8, -3) -> (8, 0) projected
  line L3 (0, 0) -> (8, 0) projected
  line L4 (0, -3) -> (0, 0) projected
  line L5 (84, -3) -> (76, -3) projected
  line L6 (84, -3) -> (84, 0) projected
  line L7 (84, 0) -> (76, 0) projected
  line L8 (76, -3) -> (76, 0) projected
  point P0 (4, -7)
extrude "Extrusion20" add sketch "Sketch20" along normal blind 2
sketch "Sketch21" plane through (0, 0, 2) normal (0, 0, -1) x (-1, 0, 0)
  line L0 (4, -4) -> (27, -4) projected
  line L1 (-80, -15) -> (-99, -15) projected
  line L2 (-99, -74) -> (-99, -15) projected
  line L3 (-99, -15) -> (-80, -15)
  line L4 (-80, -15) -> (-80, -4)
  line L5 (-80, -4) -> (-99, -4)
  line L6 (-99, -4) -> (-99, -15)
  point P0 (0, 0)
extrude "Extrusion21" add sketch "Sketch21" against normal up to surface (2 mm away)
sketch "Sketch22" plane through (83.5, -15, 7.3) normal (0, 1, 0) x (1, 0, 0)
  line L0 (15.5, 3.3) -> (0, 3.3) projected
  line L1 (0, 0) -> (0, 3.3) projected
  line L2 (3.5, 0) -> (0, 0) projected
  line L3 (3.5, 2.3) -> (3.5, 0) projected
  line L4 (3.5, 2.3) -> (15.5, 2.3) projected
  line L5 (15.5, 2.3) -> (15.5, 3.3) projected
  line L6 (0, 0) -> (0, -4) projected
  line L7 (3.5, -4) -> (0, -4) projected
  line L8 (3.5, -4) -> (3.5, 0) projected
  line L9 (3.5, 0) -> (0, 0) projected
  point P0 (-83.5, 7.3)
extrude "Extrusion22" add sketch "Sketch22" along normal up to surface (11 mm away) contours L5 L4 L3 L2 L1 L0
sketch "Sketch23" plane through (0, 0, 4) normal (0, 0, 1) x (1, 0, 0)
  line L0 (83.5, -70.5) -> (83.5, -4) projected
  line L1 (80, -4) -> (83.5, -4) projected
  line L2 (80, -6) -> (80, -4) projected
  line L3 (80, -6) -> (72, -6) projected
  line L4 (72, -6) -> (72, 4) projected
  line L5 (72, 4) -> (51.3, 4) projected
  line L6 (51.3, 0) -> (51.3, 4) projected
  line L7 (51.3, 0) -> (44, 0) projected
  line L8 (44, 0) -> (44, 4) projected
  line L9 (44, 4) -> (40, 4) projected
  line L10 (40, 4) -> (40, 0) projected
  line L11 (40, 0) -> (36, 0) projected
  line L12 (36, 0) -> (36, 4) projected
  line L13 (36, 4) -> (32, 4) projected
  line L14 (32, 4) -> (32, 0) projected
  line L15 (32, 0) -> (24.7, 0) projected
  line L16 (24.7, 4) -> (24.7, 0) projected
  line L17 (24.7, 4) -> (4, 4) projected
  line L18 (4, 4) -> (4, -6) projected
  line L19 (4, -6) -> (-4, -6) projected
  line L20 (-4, -6) -> (-4, -4) projected
  line L21 (-4, -4) -> (-10.5, -4) projected
  line L22 (-10.5, -4) -> (-10.5, -70.5) projected
  line L23 (-10.5, -70.5) -> (83.5, -70.5) projected
  circle A0 centre (76, -52) radius 1.5 projected
  circle A1 centre (0, -52) radius 1.5 projected
  circle A2 centre (-5, -12) radius 1.5 projected
  circle A3 centre (81, -20) radius 1.5 projected
  circle A4 centre (-5, -12) radius 1.5 projected
  line L24 (-5, -12) -> (-5, -8.5)
  circle A5 centre (81, -20) radius 1.5 projected
  line L25 (81, -20) -> (81, -16.5)
  circle A6 centre (-5, -8.5) radius 1.5
  circle A7 centre (81, -16.5) radius 1.5
  point P0 (0, 0)
  dimension "d102" = 3.5
  dimension "d103" = 3.5
  dimension "d104" = 3
  dimension "d105" = 3
extrude "Extrusion23" cut sketch "Sketch23" against normal through all contours A6 | A7
sketch "Sketch24" plane through (0, 0, 4) normal (0, 0, 1) x (1, 0, 0)
  circle A0 centre (-5, -12) radius 1.5 projected
  circle A1 centre (81, -20) radius 1.5 projected
  point P0 (0, 0)
extrude "Extrusion24" add sketch "Sketch24" against normal up to surface (2 mm away)
sketch "Sketch25" plane through (-27, -74, 2) normal (-1, 0, 0) x (0, 0, 1)
  line L0 (0, 70) -> (0, 0) projected
  line L1 (0, 0) -> (3, 0) projected
  line L2 (3, 0) -> (3, 70) projected
  line L3 (3, 70) -> (0, 70) projected
  point P0 (-2, 74)
extrude "Extrusion25" cut sketch "Sketch25" against normal blind 1
sketch "Sketch26" plane through (99, -74, 5) normal (1, 0, 0) x (0, 0, -1)
  line L0 (0, 0) -> (0, 70) projected
  line L1 (3, 0) -> (0, 0) projected
  line L2 (3, 70) -> (3, 0) projected
  line L3 (3, 70) -> (0, 70) projected
  point P0 (5, 74)
extrude "Extrusion26" add sketch "Sketch26" along normal blind 0.5
properties part number "odroid_router"
